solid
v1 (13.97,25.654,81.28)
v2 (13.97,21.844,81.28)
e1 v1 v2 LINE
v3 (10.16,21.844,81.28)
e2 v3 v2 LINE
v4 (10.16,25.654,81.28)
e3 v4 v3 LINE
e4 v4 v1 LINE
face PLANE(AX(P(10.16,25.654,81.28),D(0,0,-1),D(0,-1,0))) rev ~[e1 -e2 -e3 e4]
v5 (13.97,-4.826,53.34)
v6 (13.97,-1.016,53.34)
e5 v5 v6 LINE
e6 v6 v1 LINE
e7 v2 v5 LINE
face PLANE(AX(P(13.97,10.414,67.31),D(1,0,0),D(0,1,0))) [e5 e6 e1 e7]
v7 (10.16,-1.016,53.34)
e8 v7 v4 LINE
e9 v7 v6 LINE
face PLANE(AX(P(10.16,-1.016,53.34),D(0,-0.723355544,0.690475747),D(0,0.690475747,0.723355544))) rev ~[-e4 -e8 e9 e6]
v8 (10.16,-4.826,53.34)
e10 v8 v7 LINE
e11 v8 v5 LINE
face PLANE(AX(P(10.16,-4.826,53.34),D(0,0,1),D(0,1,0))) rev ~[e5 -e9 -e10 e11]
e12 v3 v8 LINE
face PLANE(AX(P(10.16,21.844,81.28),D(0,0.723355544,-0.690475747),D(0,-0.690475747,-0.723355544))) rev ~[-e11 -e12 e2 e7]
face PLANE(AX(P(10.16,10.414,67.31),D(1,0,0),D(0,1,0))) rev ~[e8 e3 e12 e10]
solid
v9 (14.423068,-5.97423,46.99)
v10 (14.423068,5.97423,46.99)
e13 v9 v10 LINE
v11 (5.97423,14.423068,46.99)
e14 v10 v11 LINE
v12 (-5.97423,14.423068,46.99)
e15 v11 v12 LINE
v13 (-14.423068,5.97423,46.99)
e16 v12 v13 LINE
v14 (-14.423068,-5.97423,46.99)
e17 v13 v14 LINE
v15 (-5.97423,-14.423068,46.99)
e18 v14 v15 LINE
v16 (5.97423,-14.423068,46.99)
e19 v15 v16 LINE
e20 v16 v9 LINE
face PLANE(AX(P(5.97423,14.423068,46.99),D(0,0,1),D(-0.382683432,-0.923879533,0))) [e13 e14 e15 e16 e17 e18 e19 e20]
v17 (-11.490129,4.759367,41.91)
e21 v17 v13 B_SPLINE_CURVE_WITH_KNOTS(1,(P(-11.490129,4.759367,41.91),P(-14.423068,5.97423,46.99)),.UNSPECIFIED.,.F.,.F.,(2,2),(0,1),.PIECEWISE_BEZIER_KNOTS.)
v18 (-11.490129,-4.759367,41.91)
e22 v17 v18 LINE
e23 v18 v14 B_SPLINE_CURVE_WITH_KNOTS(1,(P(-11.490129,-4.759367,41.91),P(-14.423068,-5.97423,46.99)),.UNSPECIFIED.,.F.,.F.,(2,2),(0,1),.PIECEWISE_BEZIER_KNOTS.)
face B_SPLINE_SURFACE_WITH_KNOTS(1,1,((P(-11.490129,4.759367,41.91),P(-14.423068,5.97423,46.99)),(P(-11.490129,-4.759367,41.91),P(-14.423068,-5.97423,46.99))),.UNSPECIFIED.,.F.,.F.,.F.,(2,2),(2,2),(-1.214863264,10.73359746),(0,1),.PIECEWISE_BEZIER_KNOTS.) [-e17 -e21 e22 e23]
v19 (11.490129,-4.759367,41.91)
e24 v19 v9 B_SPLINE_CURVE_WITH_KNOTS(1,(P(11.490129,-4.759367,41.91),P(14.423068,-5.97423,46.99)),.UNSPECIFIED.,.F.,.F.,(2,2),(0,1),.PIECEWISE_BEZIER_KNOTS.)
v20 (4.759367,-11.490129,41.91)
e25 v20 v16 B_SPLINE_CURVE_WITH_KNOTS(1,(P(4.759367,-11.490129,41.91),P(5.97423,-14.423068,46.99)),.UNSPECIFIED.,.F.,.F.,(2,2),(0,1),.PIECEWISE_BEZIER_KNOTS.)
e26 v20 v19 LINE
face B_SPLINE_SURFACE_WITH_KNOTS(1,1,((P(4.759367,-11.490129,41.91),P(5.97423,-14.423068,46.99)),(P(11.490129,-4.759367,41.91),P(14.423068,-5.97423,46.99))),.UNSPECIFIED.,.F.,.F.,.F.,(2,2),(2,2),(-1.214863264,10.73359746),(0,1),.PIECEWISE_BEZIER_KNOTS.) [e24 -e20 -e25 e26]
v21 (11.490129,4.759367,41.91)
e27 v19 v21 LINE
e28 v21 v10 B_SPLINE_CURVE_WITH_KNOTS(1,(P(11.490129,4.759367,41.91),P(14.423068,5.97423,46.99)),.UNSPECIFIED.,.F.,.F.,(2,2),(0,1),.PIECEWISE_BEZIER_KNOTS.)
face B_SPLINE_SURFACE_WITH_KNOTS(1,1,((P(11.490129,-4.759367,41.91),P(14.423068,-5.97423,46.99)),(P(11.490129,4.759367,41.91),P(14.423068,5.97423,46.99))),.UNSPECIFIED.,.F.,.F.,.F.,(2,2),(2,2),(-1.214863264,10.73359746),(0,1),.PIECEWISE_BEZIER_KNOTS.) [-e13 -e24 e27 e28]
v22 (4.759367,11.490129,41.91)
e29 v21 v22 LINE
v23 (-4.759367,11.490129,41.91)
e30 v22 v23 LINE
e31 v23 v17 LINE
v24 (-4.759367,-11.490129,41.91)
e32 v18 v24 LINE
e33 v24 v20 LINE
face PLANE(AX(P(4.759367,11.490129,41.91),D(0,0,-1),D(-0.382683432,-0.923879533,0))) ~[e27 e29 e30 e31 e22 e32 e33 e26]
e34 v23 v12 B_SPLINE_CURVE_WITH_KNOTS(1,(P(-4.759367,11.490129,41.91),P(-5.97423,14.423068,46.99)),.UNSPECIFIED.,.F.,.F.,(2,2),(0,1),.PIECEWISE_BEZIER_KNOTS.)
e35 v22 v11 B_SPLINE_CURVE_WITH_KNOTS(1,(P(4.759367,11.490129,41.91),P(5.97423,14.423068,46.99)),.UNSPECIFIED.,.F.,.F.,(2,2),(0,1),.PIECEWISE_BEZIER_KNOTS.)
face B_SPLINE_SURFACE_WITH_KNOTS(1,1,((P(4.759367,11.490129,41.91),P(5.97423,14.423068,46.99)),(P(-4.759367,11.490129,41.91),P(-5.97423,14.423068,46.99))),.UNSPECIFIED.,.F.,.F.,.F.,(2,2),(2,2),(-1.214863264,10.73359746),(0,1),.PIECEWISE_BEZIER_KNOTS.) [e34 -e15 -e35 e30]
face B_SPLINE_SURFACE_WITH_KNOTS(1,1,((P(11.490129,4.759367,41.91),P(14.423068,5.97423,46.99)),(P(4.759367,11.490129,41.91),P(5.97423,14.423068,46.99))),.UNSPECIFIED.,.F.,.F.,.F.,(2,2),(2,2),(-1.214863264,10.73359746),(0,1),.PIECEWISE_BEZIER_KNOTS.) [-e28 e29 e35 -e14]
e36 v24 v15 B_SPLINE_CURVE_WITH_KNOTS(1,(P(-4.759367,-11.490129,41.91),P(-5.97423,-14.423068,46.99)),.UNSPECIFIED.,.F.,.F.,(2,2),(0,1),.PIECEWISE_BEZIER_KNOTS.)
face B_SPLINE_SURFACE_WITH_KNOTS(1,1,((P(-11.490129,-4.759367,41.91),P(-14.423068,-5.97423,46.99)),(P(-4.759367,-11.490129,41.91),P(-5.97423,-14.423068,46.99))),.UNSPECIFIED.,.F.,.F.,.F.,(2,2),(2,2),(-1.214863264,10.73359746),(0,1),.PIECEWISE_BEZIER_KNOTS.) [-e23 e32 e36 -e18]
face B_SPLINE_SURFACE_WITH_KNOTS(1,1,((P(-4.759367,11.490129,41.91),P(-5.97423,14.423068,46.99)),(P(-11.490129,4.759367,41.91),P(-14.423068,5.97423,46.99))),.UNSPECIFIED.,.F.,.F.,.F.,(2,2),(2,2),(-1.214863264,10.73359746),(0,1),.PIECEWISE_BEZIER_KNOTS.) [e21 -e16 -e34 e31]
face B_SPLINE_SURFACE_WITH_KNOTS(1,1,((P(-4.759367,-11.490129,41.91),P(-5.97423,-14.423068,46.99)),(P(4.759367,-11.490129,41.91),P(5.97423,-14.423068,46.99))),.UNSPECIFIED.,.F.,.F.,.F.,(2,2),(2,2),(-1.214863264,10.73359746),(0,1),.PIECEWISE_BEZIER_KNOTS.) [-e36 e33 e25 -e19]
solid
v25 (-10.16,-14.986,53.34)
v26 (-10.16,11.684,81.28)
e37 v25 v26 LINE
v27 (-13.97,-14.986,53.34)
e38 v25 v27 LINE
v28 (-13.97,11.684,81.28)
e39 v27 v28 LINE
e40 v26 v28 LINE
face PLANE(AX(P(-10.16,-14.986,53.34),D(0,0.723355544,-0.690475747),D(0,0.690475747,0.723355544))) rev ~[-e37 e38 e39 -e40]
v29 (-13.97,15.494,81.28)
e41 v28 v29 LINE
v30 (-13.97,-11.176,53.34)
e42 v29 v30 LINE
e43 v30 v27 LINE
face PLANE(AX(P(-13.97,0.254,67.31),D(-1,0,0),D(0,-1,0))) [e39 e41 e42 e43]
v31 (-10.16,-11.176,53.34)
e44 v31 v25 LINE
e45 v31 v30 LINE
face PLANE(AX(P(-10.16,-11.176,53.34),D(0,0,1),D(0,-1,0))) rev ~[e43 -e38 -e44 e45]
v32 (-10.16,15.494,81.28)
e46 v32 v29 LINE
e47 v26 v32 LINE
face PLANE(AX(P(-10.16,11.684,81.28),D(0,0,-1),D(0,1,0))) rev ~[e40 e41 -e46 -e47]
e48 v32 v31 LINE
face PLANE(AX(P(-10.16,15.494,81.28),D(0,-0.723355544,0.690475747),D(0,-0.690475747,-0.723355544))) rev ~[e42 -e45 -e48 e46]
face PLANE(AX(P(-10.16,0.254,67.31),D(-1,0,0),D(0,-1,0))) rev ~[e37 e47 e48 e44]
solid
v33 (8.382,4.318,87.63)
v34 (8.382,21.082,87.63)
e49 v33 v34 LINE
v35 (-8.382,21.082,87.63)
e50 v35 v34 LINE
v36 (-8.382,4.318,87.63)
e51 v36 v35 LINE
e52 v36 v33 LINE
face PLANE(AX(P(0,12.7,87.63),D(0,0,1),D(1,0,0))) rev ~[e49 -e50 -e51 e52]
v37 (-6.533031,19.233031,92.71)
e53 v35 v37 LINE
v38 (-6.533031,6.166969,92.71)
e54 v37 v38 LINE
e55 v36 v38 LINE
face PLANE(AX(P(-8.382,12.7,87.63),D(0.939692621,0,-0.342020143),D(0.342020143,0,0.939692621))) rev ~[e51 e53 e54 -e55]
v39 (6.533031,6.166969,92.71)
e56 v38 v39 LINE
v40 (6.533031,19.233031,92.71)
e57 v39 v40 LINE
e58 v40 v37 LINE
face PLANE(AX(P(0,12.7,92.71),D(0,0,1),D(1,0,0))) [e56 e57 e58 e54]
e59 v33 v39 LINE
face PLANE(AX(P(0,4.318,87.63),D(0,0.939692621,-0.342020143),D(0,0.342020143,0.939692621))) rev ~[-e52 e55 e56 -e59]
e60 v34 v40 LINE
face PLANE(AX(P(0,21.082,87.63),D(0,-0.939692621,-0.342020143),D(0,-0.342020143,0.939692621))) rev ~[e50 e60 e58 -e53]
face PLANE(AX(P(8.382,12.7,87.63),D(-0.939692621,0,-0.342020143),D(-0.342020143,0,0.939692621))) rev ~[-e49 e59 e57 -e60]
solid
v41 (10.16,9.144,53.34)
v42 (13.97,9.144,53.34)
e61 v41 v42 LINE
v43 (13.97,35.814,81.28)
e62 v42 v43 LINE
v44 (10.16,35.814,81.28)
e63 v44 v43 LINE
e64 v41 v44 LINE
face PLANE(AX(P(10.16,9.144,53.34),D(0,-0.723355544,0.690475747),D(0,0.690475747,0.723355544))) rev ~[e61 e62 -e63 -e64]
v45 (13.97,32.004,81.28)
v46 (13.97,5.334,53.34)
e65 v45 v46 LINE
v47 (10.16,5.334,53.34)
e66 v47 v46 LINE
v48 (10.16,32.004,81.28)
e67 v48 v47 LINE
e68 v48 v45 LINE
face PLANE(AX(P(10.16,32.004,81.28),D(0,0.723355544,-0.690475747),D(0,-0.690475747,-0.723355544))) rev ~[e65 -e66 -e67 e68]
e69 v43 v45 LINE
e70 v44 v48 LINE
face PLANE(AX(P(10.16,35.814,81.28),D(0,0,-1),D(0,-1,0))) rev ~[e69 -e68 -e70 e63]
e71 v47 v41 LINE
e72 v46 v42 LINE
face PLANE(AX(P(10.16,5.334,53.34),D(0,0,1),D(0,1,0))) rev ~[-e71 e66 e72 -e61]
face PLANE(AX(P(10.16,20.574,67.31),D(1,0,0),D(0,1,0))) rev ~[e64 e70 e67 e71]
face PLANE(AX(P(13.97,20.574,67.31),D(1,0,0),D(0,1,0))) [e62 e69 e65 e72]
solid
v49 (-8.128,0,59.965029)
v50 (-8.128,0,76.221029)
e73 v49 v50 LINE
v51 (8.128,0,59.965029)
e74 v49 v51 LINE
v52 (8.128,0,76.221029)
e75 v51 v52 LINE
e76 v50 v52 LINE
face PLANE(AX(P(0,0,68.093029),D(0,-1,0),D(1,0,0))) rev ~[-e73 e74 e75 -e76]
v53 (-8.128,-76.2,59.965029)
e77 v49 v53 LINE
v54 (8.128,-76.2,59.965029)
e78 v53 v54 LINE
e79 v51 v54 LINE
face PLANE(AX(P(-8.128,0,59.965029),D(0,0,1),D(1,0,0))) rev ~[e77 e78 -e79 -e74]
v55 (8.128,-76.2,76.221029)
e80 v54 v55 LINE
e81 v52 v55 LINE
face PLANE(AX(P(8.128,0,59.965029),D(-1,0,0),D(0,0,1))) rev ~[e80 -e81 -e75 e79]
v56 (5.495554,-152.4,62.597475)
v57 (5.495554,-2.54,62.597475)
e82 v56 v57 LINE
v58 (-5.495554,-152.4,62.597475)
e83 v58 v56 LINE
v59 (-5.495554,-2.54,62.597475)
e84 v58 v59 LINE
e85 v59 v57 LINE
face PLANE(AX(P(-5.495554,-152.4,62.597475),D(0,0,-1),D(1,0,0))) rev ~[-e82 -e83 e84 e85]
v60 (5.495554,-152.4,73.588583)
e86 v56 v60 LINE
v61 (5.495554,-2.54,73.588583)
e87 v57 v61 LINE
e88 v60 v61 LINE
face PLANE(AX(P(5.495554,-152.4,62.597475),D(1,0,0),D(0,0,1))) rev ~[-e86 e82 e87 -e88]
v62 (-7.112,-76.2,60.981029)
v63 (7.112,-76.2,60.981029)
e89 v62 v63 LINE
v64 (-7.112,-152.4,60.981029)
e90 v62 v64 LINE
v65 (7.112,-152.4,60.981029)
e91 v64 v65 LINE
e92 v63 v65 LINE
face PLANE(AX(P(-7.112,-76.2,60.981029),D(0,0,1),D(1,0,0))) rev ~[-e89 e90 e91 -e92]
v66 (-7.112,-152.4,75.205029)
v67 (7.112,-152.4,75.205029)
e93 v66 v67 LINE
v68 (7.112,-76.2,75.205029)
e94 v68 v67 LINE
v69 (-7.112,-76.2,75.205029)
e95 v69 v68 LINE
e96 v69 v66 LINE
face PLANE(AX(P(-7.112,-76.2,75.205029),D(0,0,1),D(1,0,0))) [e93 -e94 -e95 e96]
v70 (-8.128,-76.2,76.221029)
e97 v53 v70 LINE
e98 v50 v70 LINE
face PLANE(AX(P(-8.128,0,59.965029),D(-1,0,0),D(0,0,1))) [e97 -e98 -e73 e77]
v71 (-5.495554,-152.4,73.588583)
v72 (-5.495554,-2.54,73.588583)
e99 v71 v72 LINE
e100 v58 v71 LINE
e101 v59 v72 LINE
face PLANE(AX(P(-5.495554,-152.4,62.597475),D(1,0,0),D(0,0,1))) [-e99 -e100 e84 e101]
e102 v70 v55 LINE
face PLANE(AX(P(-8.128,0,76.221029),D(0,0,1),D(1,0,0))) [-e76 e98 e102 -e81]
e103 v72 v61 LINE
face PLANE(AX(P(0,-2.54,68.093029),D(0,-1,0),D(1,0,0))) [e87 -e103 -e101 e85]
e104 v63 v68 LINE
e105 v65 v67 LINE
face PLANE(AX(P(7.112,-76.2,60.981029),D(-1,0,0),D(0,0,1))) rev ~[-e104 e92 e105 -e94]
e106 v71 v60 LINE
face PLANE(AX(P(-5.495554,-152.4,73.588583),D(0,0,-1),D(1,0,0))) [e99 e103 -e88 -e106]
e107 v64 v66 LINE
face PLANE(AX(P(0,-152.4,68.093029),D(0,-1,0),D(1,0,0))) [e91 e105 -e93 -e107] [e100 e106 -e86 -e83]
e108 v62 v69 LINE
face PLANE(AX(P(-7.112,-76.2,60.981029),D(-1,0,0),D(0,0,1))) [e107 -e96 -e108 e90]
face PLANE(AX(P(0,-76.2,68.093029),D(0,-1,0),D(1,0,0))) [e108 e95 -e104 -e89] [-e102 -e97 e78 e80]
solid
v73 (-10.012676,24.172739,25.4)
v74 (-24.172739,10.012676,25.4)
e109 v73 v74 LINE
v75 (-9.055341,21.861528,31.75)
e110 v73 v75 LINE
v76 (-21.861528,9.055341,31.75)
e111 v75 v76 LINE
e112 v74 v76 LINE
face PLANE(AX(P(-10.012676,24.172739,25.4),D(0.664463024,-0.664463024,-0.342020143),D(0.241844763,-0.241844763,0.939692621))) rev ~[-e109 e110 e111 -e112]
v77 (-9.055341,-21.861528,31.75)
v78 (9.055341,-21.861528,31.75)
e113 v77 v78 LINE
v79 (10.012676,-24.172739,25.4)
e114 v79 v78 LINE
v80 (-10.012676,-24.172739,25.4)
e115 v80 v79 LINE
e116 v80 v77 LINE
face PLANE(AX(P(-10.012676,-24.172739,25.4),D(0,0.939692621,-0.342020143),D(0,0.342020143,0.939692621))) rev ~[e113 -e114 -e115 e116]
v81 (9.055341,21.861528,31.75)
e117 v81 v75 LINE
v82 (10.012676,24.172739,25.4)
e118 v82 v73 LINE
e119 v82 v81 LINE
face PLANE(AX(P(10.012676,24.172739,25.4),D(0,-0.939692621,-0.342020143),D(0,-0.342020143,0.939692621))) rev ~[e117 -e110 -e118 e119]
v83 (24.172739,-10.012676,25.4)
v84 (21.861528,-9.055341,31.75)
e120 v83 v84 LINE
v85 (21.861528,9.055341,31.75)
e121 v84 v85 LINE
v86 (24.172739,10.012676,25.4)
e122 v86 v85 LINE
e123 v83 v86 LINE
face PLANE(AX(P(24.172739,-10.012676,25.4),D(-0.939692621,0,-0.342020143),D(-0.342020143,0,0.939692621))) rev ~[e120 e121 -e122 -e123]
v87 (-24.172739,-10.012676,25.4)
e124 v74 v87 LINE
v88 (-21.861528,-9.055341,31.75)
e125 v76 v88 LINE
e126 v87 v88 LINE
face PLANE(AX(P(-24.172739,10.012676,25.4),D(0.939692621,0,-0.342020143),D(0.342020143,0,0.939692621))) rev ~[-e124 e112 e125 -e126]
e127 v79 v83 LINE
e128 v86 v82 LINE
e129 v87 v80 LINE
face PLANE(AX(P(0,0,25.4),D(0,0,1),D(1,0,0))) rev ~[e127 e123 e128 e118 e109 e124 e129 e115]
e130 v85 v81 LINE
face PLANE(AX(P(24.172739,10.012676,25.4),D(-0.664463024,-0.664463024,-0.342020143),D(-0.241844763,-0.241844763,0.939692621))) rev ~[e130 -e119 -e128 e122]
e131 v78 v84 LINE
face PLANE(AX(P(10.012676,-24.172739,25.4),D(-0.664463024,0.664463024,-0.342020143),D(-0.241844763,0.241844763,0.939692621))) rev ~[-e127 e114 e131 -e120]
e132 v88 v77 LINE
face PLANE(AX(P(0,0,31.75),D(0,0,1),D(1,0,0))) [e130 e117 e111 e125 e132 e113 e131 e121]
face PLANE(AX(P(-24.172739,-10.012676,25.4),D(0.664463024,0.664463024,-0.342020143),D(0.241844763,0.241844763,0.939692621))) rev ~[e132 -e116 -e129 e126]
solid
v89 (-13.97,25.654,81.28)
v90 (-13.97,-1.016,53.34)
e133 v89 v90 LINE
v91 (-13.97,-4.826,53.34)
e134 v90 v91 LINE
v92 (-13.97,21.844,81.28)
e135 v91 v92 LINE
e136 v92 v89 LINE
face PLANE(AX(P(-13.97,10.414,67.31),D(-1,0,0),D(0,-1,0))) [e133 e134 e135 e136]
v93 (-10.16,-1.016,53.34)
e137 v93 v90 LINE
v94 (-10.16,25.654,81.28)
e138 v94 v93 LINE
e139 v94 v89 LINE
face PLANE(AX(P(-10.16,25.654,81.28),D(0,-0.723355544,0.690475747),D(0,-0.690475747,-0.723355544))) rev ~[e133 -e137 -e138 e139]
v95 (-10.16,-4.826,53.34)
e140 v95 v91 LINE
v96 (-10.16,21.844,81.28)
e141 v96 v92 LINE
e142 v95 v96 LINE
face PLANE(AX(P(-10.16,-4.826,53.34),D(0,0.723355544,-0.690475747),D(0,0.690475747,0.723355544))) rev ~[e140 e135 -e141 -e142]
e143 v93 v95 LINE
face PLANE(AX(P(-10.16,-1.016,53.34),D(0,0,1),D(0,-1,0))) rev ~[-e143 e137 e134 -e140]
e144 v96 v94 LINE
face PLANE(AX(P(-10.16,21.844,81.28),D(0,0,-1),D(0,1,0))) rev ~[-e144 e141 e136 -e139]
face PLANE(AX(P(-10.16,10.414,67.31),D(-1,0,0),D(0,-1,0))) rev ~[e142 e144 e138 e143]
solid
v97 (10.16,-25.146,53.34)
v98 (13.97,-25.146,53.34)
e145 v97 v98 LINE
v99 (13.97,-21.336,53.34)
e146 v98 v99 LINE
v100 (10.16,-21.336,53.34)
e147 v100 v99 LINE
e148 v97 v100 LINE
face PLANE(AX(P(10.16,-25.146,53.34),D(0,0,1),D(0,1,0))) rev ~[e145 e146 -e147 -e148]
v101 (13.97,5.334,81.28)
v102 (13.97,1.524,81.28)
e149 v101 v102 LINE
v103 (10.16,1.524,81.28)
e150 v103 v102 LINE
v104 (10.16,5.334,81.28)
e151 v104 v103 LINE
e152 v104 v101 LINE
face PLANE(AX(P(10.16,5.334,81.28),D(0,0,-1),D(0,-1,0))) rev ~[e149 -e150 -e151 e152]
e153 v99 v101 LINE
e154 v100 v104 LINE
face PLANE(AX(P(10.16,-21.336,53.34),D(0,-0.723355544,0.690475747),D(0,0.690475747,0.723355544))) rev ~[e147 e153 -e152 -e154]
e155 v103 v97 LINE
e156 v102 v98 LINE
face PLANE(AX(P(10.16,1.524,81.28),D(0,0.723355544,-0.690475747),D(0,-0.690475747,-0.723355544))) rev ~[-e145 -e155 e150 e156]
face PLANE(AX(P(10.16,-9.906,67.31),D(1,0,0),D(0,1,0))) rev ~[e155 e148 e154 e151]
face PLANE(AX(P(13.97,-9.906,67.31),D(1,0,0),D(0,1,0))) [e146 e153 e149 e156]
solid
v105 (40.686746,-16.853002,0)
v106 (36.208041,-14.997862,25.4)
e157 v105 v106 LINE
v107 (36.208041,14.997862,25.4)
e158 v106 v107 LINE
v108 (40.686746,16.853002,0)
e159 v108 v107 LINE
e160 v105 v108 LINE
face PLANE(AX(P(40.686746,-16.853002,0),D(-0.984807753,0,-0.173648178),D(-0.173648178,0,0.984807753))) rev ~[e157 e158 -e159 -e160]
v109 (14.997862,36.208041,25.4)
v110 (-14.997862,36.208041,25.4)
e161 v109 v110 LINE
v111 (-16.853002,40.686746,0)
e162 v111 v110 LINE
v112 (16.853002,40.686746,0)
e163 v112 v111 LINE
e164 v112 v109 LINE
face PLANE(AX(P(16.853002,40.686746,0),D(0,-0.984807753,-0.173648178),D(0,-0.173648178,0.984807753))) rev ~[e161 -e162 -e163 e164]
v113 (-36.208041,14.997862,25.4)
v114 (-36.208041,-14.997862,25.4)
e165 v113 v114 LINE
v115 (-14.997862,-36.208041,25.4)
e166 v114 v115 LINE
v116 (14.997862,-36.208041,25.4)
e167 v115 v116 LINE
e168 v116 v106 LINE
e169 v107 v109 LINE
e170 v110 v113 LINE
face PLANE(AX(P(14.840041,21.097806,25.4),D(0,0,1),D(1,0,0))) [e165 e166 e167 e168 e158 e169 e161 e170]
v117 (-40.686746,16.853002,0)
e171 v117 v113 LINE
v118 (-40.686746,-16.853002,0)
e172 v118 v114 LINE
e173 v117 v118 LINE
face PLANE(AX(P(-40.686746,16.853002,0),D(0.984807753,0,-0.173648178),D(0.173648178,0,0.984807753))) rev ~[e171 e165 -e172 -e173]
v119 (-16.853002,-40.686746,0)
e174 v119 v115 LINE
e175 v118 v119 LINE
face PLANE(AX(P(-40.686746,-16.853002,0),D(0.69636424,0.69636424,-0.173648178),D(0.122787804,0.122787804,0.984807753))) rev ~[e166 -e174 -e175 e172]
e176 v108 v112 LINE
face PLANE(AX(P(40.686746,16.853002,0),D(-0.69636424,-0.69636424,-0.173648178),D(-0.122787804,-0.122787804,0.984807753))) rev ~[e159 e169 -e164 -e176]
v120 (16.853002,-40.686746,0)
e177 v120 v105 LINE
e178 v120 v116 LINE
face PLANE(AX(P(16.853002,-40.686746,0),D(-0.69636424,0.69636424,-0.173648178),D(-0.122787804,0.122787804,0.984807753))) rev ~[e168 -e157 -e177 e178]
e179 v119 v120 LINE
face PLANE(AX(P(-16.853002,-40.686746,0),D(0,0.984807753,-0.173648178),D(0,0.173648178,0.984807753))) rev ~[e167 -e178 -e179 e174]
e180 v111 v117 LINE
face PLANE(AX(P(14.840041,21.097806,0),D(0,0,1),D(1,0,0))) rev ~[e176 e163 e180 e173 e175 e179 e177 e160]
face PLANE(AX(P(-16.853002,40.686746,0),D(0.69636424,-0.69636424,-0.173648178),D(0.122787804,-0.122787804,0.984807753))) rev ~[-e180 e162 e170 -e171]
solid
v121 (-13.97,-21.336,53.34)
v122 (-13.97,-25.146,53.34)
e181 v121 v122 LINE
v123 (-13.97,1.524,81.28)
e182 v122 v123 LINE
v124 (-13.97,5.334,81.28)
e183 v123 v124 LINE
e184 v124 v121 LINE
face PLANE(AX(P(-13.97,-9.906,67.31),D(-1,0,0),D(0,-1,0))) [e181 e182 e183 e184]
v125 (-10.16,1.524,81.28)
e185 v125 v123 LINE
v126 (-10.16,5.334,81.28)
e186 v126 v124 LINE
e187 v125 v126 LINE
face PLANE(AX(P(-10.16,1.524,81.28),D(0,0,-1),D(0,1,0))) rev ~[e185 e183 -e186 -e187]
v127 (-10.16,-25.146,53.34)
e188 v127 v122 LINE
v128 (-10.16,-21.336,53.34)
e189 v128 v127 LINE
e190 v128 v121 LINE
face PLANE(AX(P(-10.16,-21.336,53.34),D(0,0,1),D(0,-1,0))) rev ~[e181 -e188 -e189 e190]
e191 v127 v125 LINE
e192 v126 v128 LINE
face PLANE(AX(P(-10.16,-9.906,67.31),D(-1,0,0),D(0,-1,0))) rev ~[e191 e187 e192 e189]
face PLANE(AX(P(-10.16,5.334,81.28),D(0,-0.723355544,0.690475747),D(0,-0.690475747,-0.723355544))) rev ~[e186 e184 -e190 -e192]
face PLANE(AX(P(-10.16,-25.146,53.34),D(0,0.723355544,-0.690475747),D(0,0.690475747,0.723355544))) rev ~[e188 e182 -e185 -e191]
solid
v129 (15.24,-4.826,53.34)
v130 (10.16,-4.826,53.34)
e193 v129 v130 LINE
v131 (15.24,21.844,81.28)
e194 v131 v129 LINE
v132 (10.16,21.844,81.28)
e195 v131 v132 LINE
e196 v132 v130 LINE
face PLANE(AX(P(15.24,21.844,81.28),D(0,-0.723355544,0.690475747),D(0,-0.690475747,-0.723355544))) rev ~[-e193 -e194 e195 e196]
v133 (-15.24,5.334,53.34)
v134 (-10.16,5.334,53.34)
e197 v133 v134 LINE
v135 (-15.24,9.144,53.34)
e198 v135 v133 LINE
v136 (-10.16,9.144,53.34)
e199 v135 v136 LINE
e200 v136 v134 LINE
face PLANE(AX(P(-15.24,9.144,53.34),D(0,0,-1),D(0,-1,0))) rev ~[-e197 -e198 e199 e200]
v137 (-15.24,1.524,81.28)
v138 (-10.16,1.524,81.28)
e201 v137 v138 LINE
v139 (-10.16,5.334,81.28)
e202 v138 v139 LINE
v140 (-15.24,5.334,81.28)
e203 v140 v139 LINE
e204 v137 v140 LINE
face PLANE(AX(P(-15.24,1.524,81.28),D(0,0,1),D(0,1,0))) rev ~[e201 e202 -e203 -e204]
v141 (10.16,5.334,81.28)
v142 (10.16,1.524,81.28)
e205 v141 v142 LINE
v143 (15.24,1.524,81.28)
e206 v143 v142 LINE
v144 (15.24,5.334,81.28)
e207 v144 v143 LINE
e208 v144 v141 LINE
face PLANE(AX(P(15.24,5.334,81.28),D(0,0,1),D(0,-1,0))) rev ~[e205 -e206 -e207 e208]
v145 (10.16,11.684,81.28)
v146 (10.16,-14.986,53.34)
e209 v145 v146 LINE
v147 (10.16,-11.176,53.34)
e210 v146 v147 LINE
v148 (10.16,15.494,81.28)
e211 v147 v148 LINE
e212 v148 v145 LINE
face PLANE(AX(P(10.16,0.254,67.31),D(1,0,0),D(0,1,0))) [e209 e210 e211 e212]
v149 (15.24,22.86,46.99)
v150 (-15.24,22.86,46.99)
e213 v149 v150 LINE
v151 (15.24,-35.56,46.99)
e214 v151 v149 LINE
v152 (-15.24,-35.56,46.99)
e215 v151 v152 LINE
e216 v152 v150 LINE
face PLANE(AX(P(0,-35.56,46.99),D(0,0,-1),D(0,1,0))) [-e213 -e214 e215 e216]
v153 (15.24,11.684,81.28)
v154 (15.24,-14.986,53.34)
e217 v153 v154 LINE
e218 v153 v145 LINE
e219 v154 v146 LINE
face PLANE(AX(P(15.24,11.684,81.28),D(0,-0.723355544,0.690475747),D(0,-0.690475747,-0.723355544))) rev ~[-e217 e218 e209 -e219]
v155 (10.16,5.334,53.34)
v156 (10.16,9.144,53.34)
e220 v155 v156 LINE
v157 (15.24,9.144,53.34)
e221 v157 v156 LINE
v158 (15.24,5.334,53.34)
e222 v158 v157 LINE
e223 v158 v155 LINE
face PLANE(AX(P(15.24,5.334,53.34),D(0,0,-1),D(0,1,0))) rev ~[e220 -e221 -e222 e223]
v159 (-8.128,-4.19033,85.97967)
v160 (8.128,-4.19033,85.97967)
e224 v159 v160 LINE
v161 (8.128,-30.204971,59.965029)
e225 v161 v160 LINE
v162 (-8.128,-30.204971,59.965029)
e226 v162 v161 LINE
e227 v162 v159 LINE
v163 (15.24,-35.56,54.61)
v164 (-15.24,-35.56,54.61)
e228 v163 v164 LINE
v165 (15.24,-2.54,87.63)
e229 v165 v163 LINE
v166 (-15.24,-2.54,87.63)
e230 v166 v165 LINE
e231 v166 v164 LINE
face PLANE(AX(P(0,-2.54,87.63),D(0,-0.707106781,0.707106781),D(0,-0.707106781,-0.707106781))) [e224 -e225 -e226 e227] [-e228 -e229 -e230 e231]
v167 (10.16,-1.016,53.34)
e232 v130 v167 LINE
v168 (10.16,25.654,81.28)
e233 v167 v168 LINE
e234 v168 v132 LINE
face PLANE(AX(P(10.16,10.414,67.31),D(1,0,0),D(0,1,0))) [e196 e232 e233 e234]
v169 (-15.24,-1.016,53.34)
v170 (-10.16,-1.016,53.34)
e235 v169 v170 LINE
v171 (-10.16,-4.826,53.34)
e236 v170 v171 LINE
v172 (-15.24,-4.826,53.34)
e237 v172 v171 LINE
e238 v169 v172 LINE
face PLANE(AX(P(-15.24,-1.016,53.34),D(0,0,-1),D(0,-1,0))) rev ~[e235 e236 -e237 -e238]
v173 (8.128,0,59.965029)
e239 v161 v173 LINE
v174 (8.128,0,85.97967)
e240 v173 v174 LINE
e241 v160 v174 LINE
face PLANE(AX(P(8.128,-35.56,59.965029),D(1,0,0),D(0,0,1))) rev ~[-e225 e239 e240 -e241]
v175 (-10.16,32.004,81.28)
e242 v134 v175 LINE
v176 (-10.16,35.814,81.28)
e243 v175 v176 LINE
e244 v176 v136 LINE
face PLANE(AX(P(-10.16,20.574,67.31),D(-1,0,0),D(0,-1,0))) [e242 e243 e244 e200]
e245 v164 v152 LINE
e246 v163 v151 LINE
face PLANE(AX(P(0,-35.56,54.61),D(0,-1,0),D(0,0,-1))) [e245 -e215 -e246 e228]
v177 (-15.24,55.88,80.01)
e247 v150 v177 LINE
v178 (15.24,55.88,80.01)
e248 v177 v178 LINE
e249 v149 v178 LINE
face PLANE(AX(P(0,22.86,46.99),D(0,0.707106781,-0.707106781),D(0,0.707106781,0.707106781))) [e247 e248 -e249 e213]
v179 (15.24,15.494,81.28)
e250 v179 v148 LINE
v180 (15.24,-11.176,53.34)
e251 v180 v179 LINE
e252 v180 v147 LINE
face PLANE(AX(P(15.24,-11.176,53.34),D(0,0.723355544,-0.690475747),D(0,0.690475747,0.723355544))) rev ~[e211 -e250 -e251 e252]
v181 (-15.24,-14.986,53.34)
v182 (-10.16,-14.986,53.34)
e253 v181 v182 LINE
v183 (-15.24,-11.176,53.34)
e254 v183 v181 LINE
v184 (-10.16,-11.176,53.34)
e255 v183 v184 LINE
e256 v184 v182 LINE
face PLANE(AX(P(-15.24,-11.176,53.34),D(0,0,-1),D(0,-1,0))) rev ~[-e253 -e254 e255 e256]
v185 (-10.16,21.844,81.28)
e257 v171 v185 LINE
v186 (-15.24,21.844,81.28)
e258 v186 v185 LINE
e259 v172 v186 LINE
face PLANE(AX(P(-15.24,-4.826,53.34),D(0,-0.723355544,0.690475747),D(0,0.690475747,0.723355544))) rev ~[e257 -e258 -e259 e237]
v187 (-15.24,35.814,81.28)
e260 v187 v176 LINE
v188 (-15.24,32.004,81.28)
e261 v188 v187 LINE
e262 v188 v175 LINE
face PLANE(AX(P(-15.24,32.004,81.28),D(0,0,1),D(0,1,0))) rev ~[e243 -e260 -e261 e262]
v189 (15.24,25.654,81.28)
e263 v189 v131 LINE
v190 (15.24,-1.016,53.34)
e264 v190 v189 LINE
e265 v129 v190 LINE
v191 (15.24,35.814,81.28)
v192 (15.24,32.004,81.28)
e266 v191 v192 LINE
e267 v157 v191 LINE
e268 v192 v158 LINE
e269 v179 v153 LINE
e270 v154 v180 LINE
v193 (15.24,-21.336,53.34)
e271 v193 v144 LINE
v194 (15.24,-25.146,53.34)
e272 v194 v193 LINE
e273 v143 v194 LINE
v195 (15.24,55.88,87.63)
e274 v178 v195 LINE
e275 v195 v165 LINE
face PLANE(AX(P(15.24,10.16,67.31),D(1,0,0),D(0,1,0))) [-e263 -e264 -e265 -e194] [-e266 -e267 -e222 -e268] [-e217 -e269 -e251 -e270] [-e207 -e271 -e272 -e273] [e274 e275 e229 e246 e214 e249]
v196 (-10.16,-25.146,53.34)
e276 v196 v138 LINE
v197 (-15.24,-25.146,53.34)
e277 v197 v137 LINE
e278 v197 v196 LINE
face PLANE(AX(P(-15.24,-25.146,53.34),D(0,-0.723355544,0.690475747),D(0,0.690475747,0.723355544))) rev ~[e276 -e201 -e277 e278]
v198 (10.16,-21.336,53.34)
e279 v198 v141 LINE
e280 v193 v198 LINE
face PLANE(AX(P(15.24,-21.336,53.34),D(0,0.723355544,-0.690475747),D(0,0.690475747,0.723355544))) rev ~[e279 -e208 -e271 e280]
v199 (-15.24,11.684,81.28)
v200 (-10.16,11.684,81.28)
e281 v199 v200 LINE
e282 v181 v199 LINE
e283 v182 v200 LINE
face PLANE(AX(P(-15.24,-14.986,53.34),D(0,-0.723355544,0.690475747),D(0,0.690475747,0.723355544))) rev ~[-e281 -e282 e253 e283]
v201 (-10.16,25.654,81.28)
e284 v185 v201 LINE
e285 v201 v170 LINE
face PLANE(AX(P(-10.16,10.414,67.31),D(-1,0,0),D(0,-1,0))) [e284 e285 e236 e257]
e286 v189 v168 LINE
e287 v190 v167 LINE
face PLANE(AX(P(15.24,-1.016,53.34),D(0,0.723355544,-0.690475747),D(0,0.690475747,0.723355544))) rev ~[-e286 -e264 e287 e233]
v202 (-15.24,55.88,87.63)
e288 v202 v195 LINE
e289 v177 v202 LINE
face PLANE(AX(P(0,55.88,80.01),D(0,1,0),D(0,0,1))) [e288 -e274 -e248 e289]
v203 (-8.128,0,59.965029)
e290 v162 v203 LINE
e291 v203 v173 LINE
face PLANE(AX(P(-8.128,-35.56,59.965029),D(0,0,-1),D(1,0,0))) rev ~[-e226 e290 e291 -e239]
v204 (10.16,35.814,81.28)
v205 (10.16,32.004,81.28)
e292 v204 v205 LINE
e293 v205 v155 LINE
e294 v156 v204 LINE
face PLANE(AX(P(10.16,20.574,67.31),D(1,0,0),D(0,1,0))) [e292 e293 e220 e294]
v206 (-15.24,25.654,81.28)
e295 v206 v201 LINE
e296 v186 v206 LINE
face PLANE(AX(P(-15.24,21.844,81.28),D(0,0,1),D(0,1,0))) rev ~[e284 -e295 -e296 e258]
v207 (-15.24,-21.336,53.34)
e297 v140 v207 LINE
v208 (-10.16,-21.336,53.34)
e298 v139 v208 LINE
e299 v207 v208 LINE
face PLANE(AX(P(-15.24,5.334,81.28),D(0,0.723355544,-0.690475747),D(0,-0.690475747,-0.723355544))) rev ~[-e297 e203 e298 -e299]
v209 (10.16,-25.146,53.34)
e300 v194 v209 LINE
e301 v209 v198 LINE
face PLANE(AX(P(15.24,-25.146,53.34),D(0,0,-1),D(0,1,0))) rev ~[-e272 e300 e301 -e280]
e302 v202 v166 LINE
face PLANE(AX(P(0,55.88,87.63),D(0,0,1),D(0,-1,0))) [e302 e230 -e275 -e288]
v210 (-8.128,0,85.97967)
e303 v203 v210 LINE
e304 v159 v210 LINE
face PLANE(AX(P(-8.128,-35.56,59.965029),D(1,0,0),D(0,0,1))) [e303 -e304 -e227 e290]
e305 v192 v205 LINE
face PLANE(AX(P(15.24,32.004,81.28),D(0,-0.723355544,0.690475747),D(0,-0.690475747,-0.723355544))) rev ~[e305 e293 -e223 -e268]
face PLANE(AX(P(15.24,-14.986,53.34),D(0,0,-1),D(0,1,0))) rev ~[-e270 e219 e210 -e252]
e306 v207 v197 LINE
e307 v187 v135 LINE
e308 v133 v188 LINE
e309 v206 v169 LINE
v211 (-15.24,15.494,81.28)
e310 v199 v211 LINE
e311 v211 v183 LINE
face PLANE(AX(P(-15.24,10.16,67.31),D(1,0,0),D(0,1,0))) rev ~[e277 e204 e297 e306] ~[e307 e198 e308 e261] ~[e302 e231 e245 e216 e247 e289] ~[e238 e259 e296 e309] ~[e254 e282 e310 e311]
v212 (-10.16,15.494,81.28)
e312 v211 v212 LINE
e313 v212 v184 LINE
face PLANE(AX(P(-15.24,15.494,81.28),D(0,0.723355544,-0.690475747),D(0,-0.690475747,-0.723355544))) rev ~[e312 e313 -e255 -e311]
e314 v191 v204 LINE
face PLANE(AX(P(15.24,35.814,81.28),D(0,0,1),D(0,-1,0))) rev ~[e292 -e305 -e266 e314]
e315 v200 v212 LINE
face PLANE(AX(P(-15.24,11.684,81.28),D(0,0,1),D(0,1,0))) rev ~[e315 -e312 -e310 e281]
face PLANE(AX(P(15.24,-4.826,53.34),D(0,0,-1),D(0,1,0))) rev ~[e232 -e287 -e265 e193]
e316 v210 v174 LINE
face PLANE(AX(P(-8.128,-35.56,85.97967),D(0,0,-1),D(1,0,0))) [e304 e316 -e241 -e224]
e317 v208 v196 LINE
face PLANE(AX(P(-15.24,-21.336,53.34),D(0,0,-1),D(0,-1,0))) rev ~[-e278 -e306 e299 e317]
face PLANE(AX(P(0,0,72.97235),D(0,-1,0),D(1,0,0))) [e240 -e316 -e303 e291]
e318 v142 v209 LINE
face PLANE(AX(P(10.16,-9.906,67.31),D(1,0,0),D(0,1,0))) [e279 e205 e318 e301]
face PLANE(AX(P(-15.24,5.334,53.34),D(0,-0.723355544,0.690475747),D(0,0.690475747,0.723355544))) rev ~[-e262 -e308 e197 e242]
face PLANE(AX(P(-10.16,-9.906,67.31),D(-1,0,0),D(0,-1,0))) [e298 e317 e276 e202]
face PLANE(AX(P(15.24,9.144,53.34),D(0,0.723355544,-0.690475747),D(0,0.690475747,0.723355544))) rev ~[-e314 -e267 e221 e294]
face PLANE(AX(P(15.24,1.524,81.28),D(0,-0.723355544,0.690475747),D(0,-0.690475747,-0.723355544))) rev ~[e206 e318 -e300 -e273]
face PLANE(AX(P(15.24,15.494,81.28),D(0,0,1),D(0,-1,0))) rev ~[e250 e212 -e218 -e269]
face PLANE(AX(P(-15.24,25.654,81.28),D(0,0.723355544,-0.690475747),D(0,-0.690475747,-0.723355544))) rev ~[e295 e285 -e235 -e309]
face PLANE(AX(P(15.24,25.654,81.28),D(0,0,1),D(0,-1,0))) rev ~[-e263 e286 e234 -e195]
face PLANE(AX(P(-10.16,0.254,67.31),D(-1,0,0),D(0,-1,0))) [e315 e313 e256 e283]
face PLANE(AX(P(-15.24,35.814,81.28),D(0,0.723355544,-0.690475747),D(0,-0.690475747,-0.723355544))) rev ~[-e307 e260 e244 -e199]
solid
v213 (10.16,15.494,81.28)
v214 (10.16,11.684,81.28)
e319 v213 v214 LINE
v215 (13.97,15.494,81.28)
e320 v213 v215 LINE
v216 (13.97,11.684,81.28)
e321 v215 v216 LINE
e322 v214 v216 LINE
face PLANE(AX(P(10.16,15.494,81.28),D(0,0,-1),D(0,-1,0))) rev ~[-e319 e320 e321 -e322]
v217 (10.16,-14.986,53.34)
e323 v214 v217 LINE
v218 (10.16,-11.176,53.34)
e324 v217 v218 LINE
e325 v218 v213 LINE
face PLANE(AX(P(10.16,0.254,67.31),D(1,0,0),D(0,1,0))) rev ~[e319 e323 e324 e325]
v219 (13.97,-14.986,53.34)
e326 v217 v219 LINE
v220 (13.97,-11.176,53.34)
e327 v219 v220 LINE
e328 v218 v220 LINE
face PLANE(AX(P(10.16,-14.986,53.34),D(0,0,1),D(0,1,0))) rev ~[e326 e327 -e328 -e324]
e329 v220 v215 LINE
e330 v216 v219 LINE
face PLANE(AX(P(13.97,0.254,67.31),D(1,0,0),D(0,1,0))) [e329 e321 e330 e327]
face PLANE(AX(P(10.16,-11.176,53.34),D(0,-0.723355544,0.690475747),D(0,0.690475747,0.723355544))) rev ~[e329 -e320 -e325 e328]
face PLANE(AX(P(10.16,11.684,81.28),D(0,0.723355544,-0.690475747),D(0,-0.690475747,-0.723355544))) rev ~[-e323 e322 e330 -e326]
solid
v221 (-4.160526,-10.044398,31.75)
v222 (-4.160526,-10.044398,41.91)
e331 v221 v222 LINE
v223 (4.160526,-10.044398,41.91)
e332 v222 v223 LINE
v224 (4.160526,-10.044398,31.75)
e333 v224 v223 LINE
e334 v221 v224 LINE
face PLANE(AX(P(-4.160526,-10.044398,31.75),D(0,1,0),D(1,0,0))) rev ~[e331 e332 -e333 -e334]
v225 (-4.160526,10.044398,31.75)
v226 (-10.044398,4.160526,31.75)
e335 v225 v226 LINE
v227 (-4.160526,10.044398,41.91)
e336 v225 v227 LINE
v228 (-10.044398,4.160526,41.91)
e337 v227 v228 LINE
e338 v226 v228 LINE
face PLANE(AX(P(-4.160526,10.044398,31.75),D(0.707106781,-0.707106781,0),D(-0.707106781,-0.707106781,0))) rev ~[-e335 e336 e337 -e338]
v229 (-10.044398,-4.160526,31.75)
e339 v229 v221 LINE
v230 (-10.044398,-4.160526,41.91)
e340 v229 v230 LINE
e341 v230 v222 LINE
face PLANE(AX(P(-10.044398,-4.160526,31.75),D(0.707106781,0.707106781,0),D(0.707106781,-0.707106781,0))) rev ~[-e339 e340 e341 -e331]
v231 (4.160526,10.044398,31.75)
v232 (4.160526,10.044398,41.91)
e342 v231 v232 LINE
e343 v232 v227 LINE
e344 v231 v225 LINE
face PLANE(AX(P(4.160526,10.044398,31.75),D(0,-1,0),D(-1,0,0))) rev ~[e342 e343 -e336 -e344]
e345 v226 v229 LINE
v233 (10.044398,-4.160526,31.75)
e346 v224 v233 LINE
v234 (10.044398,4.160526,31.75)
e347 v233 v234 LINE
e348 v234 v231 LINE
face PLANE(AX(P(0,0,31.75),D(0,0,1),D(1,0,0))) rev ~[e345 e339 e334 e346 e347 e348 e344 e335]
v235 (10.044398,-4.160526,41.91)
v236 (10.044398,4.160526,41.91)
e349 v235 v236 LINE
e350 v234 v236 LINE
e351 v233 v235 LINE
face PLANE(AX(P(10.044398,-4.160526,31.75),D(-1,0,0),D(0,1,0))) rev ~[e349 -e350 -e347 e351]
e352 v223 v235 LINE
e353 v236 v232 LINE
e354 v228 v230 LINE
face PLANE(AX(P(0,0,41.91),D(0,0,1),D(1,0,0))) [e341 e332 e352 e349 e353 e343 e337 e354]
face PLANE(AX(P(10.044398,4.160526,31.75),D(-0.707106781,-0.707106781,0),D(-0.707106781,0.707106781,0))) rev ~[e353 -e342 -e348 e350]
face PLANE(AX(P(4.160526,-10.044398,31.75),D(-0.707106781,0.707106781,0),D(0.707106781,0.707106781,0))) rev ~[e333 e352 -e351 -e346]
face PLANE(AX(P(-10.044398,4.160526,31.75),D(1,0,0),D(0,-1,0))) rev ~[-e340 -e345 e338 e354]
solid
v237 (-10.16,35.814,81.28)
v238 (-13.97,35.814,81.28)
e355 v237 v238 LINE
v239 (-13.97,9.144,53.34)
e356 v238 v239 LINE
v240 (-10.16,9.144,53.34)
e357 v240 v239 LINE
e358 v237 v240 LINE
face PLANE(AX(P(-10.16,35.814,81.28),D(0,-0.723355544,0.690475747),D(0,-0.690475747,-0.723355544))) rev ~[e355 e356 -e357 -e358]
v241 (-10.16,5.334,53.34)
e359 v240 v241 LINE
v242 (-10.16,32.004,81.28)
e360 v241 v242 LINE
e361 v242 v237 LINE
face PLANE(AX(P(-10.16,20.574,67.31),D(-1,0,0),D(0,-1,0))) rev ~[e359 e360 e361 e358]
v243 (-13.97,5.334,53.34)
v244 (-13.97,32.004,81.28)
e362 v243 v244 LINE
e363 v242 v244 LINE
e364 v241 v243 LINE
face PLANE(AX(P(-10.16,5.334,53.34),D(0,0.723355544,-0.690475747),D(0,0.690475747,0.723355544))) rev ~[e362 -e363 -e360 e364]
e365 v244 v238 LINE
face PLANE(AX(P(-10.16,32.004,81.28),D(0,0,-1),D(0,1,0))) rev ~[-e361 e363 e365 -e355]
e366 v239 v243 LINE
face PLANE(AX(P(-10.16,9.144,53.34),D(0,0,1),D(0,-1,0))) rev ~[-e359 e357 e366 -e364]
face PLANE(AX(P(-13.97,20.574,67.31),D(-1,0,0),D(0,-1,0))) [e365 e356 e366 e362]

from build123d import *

# Parameters (mm, degrees)
F1_DEPTH  = 25.4
F1_TAPER  = 10
F3_DEPTH  = 6.35
F3_TAPER  = 20
F5_DEPTH  = 10.16
F7_DEPTH  = 5.08
F7_TAPER  = -30
F9_DEPTH  = 15.24
F10_W     = 16.256
F10_H     = 26.0146409273
F11_DEPTH = 35.56
F12_W     = 16.256
F12_H     = 16.256
F13_DEPTH = 76.2
F14_W     = 14.224
F14_H     = 14.224
F15_DEPTH = 76.2
F16_W     = 10.9911077964
F16_H     = 10.9911077964
F17_DEPTH = 149.86
F18_W     = 16.764
F18_H     = 16.764
F19_DEPTH = 5.08
F19_TAPER = 20
F21_DEPTH = 5.08
F23_DEPTH = 5.08
F25_DEPTH = 3.81
F27_DEPTH = 3.81


with BuildPart() as f1:
    # F0 (on Top) → F1 (new body)
    with BuildSketch(Plane.XY):
        Polygon((0, 37.1335148811), (0, 0), (40.6867459597, 16.8530019854), (16.8530019854, 40.6867459597), (0, 40.6867459597), align=None)
        Polygon((40.6867459597, 16.8530019854), (0, 0), (0, 37.1335148811), (0, 40.6867459597), (-16.8530019854, 40.6867459597), (-40.6867459597, 16.8530019854), (-40.6867459597, -16.8530019854), (-16.8530019854, -40.6867459597), (16.8530019854, -40.6867459597), (40.6867459597, -16.8530019854), align=None)
    extrude(amount=F1_DEPTH, taper=F1_TAPER)


with BuildPart() as f3:
    # F2 (on face) → F3 (new body)
    with BuildSketch(Plane.XY.offset(25.4)):
        Polygon((10.0126762949, 24.1727389067), (-10.0126762949, 24.1727389067), (-24.1727389067, 10.0126762949), (-24.1727389067, -10.0126762949), (-10.0126762949, -24.1727389067), (10.0126762949, -24.1727389067), (24.1727389067, -10.0126762949), (24.1727389067, 10.0126762949), align=None)
    extrude(amount=F3_DEPTH, taper=F3_TAPER)


with BuildPart() as f5:
    # F4 (on face) → F5 (new body)
    with BuildSketch(Plane.XY.offset(31.75)):
        Polygon((4.1605260419, 10.0443983969), (-4.1605260419, 10.0443983969), (-10.0443983969, 4.1605260419), (-10.0443983969, -4.1605260419), (-4.1605260419, -10.0443983969), (4.1605260419, -10.0443983969), (10.0443983969, -4.1605260419), (10.0443983969, 4.1605260419), align=None)
    extrude(amount=F5_DEPTH)


with BuildPart() as f7:
    # F6 (on face) → F7 (new body)
    with BuildSketch(Plane.XY.offset(41.91)):
        Polygon((4.7593670983, 11.490128597), (-4.7593670983, 11.490128597), (-11.490128597, 4.7593670983), (-11.490128597, -4.7593670983), (-4.7593670983, -11.490128597), (4.7593670983, -11.490128597), (11.490128597, -4.7593670983), (11.490128597, 4.7593670983), align=None)
    extrude(amount=F7_DEPTH, taper=F7_TAPER)


with BuildPart() as f9:
    # F8 (on Right) → F9 (new body, symmetric)
    with BuildSketch(Plane.YZ):
        Polygon((-5.9742303619, 46.99), (5.9742303619, 46.99), (22.86, 46.99), (55.88, 80.01), (55.88, 87.63), (-2.54, 87.63), (-35.56, 54.61), (-35.56, 46.99), align=None)
    extrude(amount=F9_DEPTH, both=True)

    # F10 (on face) → F11 (cut)
    with BuildSketch(Plane.XZ.offset(35.56)):
        with Locations((0, 72.9723498225)):
            Rectangle(F10_W, F10_H)
    extrude(amount=-F11_DEPTH, mode=Mode.SUBTRACT)

    # F20 (on face) → F21 (cut)
    with BuildSketch(Plane.YZ.offset(15.24)):
        Polygon((5.334, 81.28), (1.524, 81.28), (-25.146, 53.34), (-21.336, 53.34), align=None)
        Polygon((15.494, 81.28), (11.684, 81.28), (-14.986, 53.34), (-11.176, 53.34), align=None)
        Polygon((25.654, 81.28), (21.844, 81.28), (-4.826, 53.34), (-1.016, 53.34), align=None)
        Polygon((32.004, 81.28), (5.334, 53.34), (9.144, 53.34), (35.814, 81.28), align=None)
    extrude(amount=-F21_DEPTH, mode=Mode.SUBTRACT)

    # F22 (on face) → F23 (cut)
    with BuildSketch(Plane(origin=(-15.24, 0, 0), x_dir=(0, -1, 0), z_dir=(-1, 0, 0))):
        Polygon((-1.524, 81.28), (-5.334, 81.28), (21.336, 53.34), (25.146, 53.34), align=None)
        Polygon((-11.684, 81.28), (-15.494, 81.28), (11.176, 53.34), (14.986, 53.34), align=None)
        Polygon((-21.844, 81.28), (-25.654, 81.28), (1.016, 53.34), (4.826, 53.34), align=None)
        Polygon((-5.334, 53.34), (-32.004, 81.28), (-35.814, 81.28), (-9.144, 53.34), align=None)
    extrude(amount=-F23_DEPTH, mode=Mode.SUBTRACT)


with BuildPart() as f13:
    # F12 (on face) → F13 (new body)
    with BuildSketch(Plane.XZ):
        with Locations((0, 68.0930293589)):
            Rectangle(F12_W, F12_H)
    extrude(amount=F13_DEPTH)

    # F14 (on face) → F15 (join)
    with BuildSketch(Plane.XZ.offset(76.2)):
        with Locations((0, 68.0930293589)):
            Rectangle(F14_W, F14_H)
    extrude(amount=F15_DEPTH)

    # F16 (on face) → F17 (cut)
    with BuildSketch(Plane.XZ.offset(152.4)):
        with Locations((0, 68.0930293589)):
            Rectangle(F16_W, F16_H)
    extrude(amount=-F17_DEPTH, mode=Mode.SUBTRACT)


with BuildPart() as f19:
    # F18 (on face) → F19 (new body)
    with BuildSketch(Plane.XY.offset(87.63)):
        with Locations((0, 12.7)):
            Rectangle(F18_W, F18_H)
    extrude(amount=F19_DEPTH, taper=F19_TAPER)


with BuildPart() as f25:
    # F24 (on face) → F25 (new body)
    with BuildSketch(Plane(origin=(-10.16, 0, 0), x_dir=(0, -1, 0), z_dir=(-1, 0, 0))):
        Polygon((14.986, 53.34), (-11.684, 81.28), (-15.494, 81.28), (11.176, 53.34), align=None)
    extrude(amount=F25_DEPTH)


with BuildPart() as f25b:
    # F24 (on face) → F25, piece 2 (new body)
    with BuildSketch(Plane(origin=(-10.16, 0, 0), x_dir=(0, -1, 0), z_dir=(-1, 0, 0))):
        Polygon((25.146, 53.34), (-1.524, 81.28), (-5.334, 81.28), (21.336, 53.34), align=None)
    extrude(amount=F25_DEPTH)


with BuildPart() as f25c:
    # F24 (on face) → F25, piece 3 (new body)
    with BuildSketch(Plane(origin=(-10.16, 0, 0), x_dir=(0, -1, 0), z_dir=(-1, 0, 0))):
        Polygon((4.826, 53.34), (-21.844, 81.28), (-25.654, 81.28), (1.016, 53.34), align=None)
    extrude(amount=F25_DEPTH)


with BuildPart() as f25d:
    # F24 (on face) → F25, piece 4 (new body)
    with BuildSketch(Plane(origin=(-10.16, 0, 0), x_dir=(0, -1, 0), z_dir=(-1, 0, 0))):
        Polygon((-9.144, 53.34), (-5.334, 53.34), (-32.004, 81.28), (-35.814, 81.28), align=None)
    extrude(amount=F25_DEPTH)


with BuildPart() as f27:
    # F26 (on face) → F27 (new body)
    with BuildSketch(Plane.YZ.offset(10.16)):
        Polygon((-21.336, 53.34), (5.334, 81.28), (1.524, 81.28), (-25.146, 53.34), align=None)
    extrude(amount=F27_DEPTH)


with BuildPart() as f27b:
    # F26 (on face) → F27, piece 2 (new body)
    with BuildSketch(Plane.YZ.offset(10.16)):
        Polygon((-11.176, 53.34), (15.494, 81.28), (11.684, 81.28), (-14.986, 53.34), align=None)
    extrude(amount=F27_DEPTH)


with BuildPart() as f27c:
    # F26 (on face) → F27, piece 3 (new body)
    with BuildSketch(Plane.YZ.offset(10.16)):
        Polygon((-1.016, 53.34), (25.654, 81.28), (21.844, 81.28), (-4.826, 53.34), align=None)
    extrude(amount=F27_DEPTH)


with BuildPart() as f27d:
    # F26 (on face) → F27, piece 4 (new body)
    with BuildSketch(Plane.YZ.offset(10.16)):
        Polygon((35.814, 81.28), (32.004, 81.28), (5.334, 53.34), (9.144, 53.34), align=None)
    extrude(amount=F27_DEPTH)


solid = Compound([f1.part, f3.part, f5.part, f7.part, f9.part, f13.part, f19.part, f25.part, f25b.part, f25c.part, f25d.part, f27.part, f27b.part, f27c.part, f27d.part])
